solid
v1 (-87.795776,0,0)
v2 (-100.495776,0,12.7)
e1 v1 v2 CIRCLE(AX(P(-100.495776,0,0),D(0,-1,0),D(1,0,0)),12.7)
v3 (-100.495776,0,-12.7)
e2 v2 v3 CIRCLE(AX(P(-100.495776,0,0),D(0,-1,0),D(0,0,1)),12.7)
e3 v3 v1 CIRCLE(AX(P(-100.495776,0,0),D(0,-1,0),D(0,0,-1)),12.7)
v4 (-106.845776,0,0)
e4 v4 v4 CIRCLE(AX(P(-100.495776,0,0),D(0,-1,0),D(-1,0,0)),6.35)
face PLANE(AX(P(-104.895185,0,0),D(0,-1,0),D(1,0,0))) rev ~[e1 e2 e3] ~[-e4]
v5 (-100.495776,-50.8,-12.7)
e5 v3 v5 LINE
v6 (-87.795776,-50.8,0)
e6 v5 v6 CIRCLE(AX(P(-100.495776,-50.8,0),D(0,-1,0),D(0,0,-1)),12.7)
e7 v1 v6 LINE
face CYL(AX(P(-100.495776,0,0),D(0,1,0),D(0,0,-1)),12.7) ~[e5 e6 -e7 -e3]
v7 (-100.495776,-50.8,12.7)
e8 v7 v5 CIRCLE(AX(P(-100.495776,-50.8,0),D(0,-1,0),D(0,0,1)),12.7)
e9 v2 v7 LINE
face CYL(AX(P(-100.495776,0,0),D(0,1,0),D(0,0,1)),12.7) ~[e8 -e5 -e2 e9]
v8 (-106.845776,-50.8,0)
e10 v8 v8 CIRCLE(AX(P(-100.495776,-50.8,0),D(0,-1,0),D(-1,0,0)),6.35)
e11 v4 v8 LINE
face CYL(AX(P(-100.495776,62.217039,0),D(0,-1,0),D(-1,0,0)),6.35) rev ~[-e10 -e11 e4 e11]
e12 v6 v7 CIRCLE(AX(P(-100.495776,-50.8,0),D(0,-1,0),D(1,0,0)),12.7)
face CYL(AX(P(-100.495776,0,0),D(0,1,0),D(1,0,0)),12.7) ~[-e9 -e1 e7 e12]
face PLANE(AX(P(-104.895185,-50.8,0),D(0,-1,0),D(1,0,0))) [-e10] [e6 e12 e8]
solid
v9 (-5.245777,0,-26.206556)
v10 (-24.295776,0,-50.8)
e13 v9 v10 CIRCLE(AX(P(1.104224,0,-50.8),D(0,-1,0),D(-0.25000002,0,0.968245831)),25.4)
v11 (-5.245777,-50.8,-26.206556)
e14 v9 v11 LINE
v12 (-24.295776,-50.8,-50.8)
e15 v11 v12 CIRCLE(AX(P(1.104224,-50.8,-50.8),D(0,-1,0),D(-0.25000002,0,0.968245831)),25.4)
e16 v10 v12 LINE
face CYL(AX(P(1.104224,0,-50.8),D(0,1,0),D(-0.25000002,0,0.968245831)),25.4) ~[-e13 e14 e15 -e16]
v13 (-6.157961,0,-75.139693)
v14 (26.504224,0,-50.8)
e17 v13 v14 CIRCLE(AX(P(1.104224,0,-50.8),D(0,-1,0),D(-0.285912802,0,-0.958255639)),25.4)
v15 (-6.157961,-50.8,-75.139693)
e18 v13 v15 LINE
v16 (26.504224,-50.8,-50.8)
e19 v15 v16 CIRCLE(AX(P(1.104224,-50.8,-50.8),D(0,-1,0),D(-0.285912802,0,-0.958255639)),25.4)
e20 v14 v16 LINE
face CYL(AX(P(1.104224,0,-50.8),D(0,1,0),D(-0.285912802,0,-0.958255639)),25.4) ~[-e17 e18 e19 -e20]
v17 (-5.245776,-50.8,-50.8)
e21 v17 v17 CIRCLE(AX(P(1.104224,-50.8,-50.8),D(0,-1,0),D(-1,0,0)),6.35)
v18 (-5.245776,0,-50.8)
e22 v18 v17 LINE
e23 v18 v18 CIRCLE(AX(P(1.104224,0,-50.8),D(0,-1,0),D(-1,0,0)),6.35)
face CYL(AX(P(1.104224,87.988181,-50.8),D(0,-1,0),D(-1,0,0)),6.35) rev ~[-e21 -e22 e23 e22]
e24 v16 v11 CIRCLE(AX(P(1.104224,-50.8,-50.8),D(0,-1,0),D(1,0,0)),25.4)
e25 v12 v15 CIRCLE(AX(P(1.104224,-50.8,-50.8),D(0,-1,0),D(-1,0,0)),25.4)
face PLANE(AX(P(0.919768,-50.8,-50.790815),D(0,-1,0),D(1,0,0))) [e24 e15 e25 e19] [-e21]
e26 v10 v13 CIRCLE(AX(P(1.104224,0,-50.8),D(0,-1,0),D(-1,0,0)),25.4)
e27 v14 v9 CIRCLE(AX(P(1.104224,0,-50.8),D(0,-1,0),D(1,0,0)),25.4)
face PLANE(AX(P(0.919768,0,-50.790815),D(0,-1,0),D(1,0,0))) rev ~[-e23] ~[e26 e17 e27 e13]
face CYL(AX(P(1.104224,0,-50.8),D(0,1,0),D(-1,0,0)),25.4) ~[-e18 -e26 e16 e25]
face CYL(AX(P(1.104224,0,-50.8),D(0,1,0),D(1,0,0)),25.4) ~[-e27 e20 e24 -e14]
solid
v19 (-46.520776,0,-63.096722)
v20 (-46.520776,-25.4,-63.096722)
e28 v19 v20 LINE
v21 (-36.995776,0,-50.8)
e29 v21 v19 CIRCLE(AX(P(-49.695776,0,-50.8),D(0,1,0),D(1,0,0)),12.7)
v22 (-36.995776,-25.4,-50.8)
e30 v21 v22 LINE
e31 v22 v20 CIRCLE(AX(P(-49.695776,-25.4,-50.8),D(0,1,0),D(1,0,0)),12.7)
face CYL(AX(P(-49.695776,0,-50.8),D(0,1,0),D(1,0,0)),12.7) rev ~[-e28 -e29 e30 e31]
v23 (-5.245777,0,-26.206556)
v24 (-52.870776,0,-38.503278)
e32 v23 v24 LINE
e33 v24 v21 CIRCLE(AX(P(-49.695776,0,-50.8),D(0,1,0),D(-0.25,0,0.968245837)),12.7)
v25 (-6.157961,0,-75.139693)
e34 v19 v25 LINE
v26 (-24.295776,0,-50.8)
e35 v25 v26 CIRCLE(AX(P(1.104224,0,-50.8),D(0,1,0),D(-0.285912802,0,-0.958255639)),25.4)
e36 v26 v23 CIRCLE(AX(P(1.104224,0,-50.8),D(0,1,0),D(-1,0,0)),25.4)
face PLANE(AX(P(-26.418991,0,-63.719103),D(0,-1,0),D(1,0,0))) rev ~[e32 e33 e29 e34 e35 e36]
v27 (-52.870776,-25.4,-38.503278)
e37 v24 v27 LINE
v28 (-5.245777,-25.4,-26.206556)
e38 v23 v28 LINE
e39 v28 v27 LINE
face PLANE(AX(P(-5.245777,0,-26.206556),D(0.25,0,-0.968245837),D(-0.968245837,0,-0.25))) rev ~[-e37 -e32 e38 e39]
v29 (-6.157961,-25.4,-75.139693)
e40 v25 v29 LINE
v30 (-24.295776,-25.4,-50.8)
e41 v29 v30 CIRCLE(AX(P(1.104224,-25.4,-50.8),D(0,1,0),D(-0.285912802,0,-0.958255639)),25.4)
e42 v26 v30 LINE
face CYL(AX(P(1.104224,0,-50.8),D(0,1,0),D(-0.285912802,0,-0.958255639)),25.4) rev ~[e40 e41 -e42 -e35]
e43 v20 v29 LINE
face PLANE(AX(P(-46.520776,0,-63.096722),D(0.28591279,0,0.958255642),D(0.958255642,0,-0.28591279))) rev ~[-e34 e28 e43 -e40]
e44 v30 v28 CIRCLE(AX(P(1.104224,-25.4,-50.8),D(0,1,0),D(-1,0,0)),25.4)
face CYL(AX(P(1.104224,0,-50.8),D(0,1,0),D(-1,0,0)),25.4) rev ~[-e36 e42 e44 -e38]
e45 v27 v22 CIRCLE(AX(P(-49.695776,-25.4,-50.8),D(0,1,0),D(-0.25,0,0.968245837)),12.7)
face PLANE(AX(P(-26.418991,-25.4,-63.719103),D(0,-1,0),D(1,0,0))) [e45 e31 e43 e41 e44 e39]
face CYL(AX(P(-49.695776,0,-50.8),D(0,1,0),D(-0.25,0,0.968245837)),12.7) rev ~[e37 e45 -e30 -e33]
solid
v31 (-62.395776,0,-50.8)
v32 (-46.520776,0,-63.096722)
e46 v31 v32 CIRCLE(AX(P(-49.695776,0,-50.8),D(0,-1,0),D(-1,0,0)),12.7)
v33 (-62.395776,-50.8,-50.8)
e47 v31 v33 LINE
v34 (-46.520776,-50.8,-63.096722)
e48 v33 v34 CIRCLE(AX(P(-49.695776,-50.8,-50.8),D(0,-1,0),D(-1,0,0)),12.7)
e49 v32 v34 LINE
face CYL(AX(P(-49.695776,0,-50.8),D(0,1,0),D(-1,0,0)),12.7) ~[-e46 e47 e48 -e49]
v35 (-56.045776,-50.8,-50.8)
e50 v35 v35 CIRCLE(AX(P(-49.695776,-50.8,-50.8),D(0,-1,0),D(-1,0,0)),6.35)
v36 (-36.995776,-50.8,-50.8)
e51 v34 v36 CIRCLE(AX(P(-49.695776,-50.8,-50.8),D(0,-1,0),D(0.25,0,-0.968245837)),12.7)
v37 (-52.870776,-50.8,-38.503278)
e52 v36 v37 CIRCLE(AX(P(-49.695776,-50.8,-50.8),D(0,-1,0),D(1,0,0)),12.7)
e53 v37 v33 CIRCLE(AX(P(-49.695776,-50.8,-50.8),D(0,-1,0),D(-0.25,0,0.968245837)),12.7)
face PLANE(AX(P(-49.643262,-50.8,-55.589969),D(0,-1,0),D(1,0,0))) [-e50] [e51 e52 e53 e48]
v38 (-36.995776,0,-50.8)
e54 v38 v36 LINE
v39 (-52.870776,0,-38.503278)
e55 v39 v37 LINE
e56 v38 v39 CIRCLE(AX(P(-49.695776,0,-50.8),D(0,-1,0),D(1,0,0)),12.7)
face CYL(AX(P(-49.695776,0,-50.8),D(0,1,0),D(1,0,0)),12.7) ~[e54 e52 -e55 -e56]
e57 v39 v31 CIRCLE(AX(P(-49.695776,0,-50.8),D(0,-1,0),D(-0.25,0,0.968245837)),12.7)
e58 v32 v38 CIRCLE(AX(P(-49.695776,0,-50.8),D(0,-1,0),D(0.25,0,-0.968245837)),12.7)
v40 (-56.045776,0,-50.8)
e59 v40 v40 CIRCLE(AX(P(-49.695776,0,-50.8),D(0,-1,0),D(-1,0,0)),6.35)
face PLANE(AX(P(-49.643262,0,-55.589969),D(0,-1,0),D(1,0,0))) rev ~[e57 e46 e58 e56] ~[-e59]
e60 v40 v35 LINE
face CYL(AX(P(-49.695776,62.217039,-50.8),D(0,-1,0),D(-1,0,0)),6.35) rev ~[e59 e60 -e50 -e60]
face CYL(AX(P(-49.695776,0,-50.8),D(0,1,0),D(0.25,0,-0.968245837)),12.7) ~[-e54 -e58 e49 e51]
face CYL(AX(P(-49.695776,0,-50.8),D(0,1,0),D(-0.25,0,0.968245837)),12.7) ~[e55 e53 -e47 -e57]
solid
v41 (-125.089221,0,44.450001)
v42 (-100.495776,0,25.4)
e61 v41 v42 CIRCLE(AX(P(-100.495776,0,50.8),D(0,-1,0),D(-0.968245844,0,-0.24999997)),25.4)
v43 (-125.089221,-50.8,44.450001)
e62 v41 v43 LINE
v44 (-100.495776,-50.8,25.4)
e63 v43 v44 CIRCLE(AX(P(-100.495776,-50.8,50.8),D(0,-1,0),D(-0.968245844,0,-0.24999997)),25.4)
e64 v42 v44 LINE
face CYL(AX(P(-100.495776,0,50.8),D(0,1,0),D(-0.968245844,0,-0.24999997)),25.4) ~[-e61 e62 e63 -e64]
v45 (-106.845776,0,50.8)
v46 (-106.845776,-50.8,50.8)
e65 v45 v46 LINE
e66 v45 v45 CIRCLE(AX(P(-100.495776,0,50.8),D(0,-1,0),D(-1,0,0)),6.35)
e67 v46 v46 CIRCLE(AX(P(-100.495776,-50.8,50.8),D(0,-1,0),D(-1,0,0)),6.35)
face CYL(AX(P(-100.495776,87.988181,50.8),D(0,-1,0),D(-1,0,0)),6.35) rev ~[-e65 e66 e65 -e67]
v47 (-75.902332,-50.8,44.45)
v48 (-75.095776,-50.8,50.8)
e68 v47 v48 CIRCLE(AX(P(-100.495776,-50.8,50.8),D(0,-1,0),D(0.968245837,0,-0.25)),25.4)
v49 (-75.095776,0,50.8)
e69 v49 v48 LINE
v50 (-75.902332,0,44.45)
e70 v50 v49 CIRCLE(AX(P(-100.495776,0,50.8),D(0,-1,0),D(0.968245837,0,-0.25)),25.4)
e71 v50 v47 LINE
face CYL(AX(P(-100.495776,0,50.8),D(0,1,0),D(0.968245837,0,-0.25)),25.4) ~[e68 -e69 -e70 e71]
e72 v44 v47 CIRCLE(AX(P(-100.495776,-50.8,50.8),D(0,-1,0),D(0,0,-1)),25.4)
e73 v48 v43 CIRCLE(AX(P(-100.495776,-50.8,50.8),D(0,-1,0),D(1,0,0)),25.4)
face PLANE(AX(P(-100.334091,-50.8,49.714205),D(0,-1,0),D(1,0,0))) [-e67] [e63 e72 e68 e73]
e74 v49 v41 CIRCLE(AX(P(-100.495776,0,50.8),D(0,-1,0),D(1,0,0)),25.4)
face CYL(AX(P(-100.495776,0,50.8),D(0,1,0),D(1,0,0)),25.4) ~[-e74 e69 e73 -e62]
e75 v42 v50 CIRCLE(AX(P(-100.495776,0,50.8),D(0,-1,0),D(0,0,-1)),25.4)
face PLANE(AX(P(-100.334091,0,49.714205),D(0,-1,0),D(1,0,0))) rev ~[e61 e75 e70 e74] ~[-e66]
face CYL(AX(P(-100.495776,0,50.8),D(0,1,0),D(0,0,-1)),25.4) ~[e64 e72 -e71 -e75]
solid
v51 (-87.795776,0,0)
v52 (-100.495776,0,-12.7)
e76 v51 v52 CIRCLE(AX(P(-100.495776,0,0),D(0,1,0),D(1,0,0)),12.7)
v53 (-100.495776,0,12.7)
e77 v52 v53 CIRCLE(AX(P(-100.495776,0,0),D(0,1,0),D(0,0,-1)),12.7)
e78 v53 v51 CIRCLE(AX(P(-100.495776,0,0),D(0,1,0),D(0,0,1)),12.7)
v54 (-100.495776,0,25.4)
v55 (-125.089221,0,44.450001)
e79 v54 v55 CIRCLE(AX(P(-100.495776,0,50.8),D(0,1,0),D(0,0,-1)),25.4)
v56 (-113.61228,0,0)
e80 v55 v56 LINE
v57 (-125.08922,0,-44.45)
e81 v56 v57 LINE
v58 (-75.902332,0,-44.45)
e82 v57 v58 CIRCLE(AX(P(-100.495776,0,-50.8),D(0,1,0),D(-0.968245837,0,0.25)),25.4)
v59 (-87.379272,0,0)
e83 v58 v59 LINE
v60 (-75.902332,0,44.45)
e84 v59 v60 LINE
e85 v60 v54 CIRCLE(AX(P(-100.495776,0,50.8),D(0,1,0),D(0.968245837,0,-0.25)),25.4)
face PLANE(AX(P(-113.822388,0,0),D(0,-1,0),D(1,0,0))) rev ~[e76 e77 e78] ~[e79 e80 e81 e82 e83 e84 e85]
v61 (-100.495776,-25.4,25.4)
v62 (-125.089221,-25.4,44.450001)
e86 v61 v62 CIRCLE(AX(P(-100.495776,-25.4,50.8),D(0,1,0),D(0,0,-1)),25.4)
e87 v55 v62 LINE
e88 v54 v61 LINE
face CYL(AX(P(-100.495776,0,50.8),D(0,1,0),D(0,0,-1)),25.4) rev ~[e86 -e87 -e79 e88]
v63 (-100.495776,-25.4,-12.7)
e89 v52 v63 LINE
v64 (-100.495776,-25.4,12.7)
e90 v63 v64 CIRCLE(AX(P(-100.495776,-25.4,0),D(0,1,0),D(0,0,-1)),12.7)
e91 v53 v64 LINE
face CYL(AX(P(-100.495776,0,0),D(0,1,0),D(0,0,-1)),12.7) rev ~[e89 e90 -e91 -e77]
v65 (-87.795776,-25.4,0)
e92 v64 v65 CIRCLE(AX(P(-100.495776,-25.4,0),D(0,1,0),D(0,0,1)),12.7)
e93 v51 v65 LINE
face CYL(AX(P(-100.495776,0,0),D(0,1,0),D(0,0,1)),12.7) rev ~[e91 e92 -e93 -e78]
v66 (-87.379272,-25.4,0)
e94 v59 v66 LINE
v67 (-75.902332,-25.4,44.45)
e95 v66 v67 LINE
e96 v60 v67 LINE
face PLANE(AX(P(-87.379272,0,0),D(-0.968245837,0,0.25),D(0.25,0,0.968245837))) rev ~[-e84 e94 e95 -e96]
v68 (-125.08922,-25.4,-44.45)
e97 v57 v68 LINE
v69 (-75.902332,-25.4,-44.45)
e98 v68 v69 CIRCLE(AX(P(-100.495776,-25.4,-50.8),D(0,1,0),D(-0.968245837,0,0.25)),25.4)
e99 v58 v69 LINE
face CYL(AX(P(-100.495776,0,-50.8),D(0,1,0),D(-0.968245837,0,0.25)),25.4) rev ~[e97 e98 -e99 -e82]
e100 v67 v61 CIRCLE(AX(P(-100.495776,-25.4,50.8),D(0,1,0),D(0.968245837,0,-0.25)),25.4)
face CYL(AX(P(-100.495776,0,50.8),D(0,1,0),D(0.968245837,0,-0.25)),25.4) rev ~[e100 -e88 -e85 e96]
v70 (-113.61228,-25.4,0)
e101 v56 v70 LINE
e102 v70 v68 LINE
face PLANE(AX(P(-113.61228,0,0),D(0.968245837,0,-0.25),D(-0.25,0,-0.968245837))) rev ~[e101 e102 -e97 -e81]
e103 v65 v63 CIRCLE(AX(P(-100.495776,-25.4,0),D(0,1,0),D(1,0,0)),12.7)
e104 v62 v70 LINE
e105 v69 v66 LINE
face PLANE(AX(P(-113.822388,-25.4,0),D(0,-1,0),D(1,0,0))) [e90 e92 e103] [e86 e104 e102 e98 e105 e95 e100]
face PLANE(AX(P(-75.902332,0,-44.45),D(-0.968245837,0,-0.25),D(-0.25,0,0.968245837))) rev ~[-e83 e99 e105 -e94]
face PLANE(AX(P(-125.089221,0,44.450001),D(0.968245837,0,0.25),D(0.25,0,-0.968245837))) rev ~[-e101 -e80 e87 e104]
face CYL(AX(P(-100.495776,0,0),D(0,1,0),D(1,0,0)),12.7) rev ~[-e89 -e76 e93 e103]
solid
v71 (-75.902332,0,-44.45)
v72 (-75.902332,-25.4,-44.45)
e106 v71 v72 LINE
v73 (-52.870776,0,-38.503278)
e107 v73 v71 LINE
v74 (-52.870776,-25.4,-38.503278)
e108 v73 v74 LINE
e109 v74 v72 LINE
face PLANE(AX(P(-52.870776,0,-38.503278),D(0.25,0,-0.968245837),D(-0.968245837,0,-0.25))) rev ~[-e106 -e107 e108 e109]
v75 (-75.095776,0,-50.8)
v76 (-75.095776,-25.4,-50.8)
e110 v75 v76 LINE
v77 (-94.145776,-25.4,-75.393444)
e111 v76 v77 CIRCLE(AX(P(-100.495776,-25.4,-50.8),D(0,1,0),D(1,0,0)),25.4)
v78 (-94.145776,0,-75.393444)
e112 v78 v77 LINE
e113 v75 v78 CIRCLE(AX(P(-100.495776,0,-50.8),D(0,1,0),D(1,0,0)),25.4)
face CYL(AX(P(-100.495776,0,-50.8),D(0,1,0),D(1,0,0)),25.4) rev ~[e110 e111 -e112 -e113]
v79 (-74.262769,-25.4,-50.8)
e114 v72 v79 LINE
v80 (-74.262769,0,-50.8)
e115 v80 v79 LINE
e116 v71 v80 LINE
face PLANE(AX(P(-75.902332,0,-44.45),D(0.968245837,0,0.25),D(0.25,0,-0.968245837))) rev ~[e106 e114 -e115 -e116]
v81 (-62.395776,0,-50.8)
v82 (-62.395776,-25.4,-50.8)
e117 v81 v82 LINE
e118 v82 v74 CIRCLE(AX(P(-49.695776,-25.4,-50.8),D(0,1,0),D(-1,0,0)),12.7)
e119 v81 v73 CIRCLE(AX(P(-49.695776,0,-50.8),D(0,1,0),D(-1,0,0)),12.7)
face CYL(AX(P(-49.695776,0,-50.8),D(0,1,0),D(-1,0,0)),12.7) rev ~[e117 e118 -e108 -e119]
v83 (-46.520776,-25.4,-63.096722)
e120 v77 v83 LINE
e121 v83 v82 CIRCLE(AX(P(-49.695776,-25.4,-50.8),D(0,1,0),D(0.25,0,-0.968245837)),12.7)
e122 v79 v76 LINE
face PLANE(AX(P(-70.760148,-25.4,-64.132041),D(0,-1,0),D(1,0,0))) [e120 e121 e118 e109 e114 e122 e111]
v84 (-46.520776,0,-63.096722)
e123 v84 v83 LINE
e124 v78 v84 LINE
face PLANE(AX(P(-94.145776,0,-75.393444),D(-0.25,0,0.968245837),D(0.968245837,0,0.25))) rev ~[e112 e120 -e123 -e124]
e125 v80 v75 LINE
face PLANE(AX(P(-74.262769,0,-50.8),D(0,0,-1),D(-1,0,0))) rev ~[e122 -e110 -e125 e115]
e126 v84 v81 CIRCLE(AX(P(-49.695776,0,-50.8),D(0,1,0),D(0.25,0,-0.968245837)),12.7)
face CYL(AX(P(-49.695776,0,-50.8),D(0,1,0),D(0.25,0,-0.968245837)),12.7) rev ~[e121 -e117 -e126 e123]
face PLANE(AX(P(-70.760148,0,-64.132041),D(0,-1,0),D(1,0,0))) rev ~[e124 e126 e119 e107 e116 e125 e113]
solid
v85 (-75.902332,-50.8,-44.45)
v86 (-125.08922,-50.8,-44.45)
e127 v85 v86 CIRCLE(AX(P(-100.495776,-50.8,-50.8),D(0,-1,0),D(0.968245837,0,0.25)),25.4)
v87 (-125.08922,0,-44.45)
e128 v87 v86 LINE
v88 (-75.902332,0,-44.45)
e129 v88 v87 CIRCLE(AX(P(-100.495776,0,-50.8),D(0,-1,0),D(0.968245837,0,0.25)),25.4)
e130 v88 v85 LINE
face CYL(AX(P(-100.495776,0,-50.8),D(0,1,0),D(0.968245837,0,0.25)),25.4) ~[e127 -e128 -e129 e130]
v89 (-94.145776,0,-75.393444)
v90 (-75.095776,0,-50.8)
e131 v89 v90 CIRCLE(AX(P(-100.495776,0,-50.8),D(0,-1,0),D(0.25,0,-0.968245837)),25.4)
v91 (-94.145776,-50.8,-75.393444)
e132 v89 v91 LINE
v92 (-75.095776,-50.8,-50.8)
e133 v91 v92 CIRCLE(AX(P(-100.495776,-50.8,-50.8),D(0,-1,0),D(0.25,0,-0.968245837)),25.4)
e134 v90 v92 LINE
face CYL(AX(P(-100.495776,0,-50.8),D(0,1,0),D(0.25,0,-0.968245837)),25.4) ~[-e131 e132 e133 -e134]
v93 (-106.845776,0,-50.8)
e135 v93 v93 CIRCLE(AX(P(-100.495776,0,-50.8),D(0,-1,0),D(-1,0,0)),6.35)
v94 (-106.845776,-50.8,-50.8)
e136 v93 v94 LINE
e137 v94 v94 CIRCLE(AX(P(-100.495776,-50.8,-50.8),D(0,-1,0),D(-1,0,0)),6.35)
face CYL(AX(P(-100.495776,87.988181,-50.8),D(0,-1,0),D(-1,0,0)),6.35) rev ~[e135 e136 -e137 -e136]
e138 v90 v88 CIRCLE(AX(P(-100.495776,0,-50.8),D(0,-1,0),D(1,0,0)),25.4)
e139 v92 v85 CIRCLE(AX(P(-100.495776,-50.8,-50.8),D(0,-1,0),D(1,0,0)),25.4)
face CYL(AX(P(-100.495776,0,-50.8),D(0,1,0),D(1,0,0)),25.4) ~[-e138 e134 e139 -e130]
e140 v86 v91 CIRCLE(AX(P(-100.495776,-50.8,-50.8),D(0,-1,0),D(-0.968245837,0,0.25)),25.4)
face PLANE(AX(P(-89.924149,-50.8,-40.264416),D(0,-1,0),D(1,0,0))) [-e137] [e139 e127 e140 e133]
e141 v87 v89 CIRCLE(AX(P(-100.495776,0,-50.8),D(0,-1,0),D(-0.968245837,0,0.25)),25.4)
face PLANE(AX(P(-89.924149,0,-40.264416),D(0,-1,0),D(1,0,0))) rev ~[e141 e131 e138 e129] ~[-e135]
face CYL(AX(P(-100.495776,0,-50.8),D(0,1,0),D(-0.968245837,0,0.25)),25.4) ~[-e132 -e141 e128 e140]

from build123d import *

# Parameters (mm, degrees)
F1_DEPTH = 50.8
F2_DEPTH = 25.4
F3_D     = 12.7
F3_2_D   = 12.7
F3_3_D   = 12.7
F3_4_D   = 12.7
F3_5_D   = 12.7


with BuildPart() as f1:
    # F0 (on Front) → F1 (new body)
    with BuildSketch(Plane.XZ):
        with BuildLine():
            ThreePointArc((-100.4957760886, 25.4), (-84.9415162219, 30.7195368579), (-75.9023318401, 44.45))
            ThreePointArc((-75.9023318401, 44.45), (-75.2982218034, 47.5994909709), (-75.0957760886, 50.8))
            ThreePointArc((-75.0957760886, 50.8), (-103.6962847293, 75.9975543345), (-125.0892205327, 44.4500007579))
            ThreePointArc((-125.0892205327, 44.4500007579), (-116.0500362647, 30.7195370976), (-100.4957760886, 25.4))
        make_face()
    extrude(amount=F1_DEPTH)

    # F3 (through all)
    with Locations(Plane(origin=(0, 0, 0), x_dir=(1, 0, 0), z_dir=(0, 1, 0))):
        with Locations((-100.4957760886, -50.8), (-100.4957760886, 50.8), (-100.4957760886, 0), (-49.6957760886, 50.8), (1.1042239114, 50.8)):
            Hole(F3_D / 2)


with BuildPart() as f1b:
    # F0 (on Front) → F1, piece 2 (new body)
    with BuildSketch(Plane.XZ):
        with BuildLine():
            ThreePointArc((-100.4957760886, 12.7), (-113.1957760886, 0), (-100.4957760886, -12.7))
            Line((-100.4957760886, -12.7), (-100.4957760886, 0))
            Line((-100.4957760886, 0), (-100.4957760886, 12.7))
        make_face()
        with BuildLine():
            Line((-100.4957760886, 0), (-100.4957760886, -12.7))
            ThreePointArc((-100.4957760886, -12.7), (-91.5155199675, -8.9802561211), (-87.7957760886, 0))
            ThreePointArc((-87.7957760886, 0), (-91.5155199675, 8.9802561211), (-100.4957760886, 12.7))
            Line((-100.4957760886, 12.7), (-100.4957760886, 0))
        make_face()
    extrude(amount=F1_DEPTH)

    # F3#2 (through all)
    with Locations(Plane(origin=(0, 0, 0), x_dir=(1, 0, 0), z_dir=(0, 1, 0))):
        with Locations((-100.4957760886, -50.8), (-100.4957760886, 50.8), (-100.4957760886, 0), (-49.6957760886, 50.8), (1.1042239114, 50.8)):
            Hole(F3_2_D / 2)


with BuildPart() as f1c:
    # F0 (on Front) → F1, piece 3 (new body)
    with BuildSketch(Plane.XZ):
        with BuildLine():
            Line((-100.4957760886, -25.4), (-100.4957760886, -50.8))
            Line((-100.4957760886, -50.8), (-75.0957760886, -50.8))
            ThreePointArc((-75.0957760886, -50.8), (-75.2982218034, -47.5994909709), (-75.9023318401, -44.45))
            ThreePointArc((-75.9023318401, -44.45), (-84.9415162219, -30.7195368579), (-100.4957760886, -25.4))
        make_face()
        with BuildLine():
            Line((-75.0957760886, -50.8), (-100.4957760886, -50.8))
            Line((-100.4957760886, -50.8), (-100.4957760886, -25.4))
            ThreePointArc((-100.4957760886, -25.4), (-116.0500359552, -30.7195368579), (-125.089220337, -44.45))
            ThreePointArc((-125.089220337, -44.45), (-118.4562883307, -68.7605122421), (-94.1457760886, -75.3934442484))
            ThreePointArc((-94.1457760886, -75.3934442484), (-80.4153129465, -66.3542598667), (-75.0957760886, -50.8))
        make_face()
    extrude(amount=F1_DEPTH)

    # F3#3 (through all)
    with Locations(Plane(origin=(0, 0, 0), x_dir=(1, 0, 0), z_dir=(0, 1, 0))):
        with Locations((-100.4957760886, -50.8), (-100.4957760886, 50.8), (-100.4957760886, 0), (-49.6957760886, 50.8), (1.1042239114, 50.8)):
            Hole(F3_3_D / 2)


with BuildPart() as f1d:
    # F0 (on Front) → F1, piece 4 (new body)
    with BuildSketch(Plane.XZ):
        with BuildLine():
            Line((-49.6957760886, -50.8), (-62.3957760886, -50.8))
            ThreePointArc((-62.3957760886, -50.8), (-57.4729060219, -60.840231571), (-46.5207760886, -63.0967221242))
            ThreePointArc((-46.5207760886, -63.0967221242), (-39.6555445175, -58.5771299333), (-36.9957760886, -50.8))
            Line((-36.9957760886, -50.8), (-49.6957760886, -50.8))
        make_face()
        with BuildLine():
            ThreePointArc((-52.8707760886, -38.5032778758), (-59.7360076596, -43.0228700667), (-62.3957760886, -50.8))
            Line((-62.3957760886, -50.8), (-49.6957760886, -50.8))
            Line((-49.6957760886, -50.8), (-36.9957760886, -50.8))
            ThreePointArc((-36.9957760886, -50.8), (-41.9186461552, -40.759768429), (-52.8707760886, -38.5032778758))
        make_face()
    extrude(amount=F1_DEPTH)

    # F3#4 (through all)
    with Locations(Plane(origin=(0, 0, 0), x_dir=(1, 0, 0), z_dir=(0, 1, 0))):
        with Locations((-100.4957760886, -50.8), (-100.4957760886, 50.8), (-100.4957760886, 0), (-49.6957760886, 50.8), (1.1042239114, 50.8)):
            Hole(F3_4_D / 2)


with BuildPart() as f1e:
    # F0 (on Front) → F1, piece 5 (new body)
    with BuildSketch(Plane.XZ):
        with BuildLine():
            ThreePointArc((26.5042239114, -50.8), (16.6584835721, -30.7195366984), (-5.2457765931, -26.2065558819))
            ThreePointArc((-5.2457765931, -26.2065558819), (-18.9762393902, -35.2457403393), (-24.2957760886, -50.8))
            ThreePointArc((-24.2957760886, -50.8), (-19.2626548825, -65.9772938363), (-6.1579612702, -75.1396932271))
            ThreePointArc((-6.1579612702, -75.1396932271), (16.2815177477, -71.1668787939), (26.5042239114, -50.8))
        make_face()
    extrude(amount=F1_DEPTH)

    # F3#5 (through all)
    with Locations(Plane(origin=(0, 0, 0), x_dir=(1, 0, 0), z_dir=(0, 1, 0))):
        with Locations((-100.4957760886, -50.8), (-100.4957760886, 50.8), (-100.4957760886, 0), (-49.6957760886, 50.8), (1.1042239114, 50.8)):
            Hole(F3_5_D / 2)


with BuildPart() as f2:
    # F0 (on Front) → F2 (new body)
    with BuildSketch(Plane.XZ):
        with BuildLine():
            ThreePointArc((-125.089220337, -44.45), (-116.0500359552, -30.7195368579), (-100.4957760886, -25.4))
            Line((-100.4957760886, -25.4), (-100.4957760886, -12.7))
            ThreePointArc((-100.4957760886, -12.7), (-113.1957760886, 0), (-100.4957760886, 12.7))
            Line((-100.4957760886, 12.7), (-100.4957760886, 25.4))
            ThreePointArc((-100.4957760886, 25.4), (-116.0500362647, 30.7195370976), (-125.0892205327, 44.4500007579))
            Line((-125.0892205327, 44.4500007579), (-113.6122796877, 0))
            Line((-113.6122796877, 0), (-125.089220337, -44.45))
        make_face()
        with BuildLine():
            Line((-100.4957760886, -12.7), (-100.4957760886, -25.4))
            ThreePointArc((-100.4957760886, -25.4), (-84.9415162219, -30.7195368579), (-75.9023318401, -44.45))
            Line((-75.9023318401, -44.45), (-87.3792724894, 0))
            Line((-87.3792724894, 0), (-75.9023318401, 44.45))
            ThreePointArc((-75.9023318401, 44.45), (-84.9415162219, 30.7195368579), (-100.4957760886, 25.4))
            Line((-100.4957760886, 25.4), (-100.4957760886, 12.7))
            ThreePointArc((-100.4957760886, 12.7), (-91.5155199675, 8.9802561211), (-87.7957760886, 0))
            ThreePointArc((-87.7957760886, 0), (-91.5155199675, -8.9802561211), (-100.4957760886, -12.7))
        make_face()
    extrude(amount=F2_DEPTH)


with BuildPart() as f2b:
    # F0 (on Front) → F2, piece 2 (new body)
    with BuildSketch(Plane.XZ):
        with BuildLine():
            Line((-74.2627688902, -50.8), (-75.0957760886, -50.8))
            ThreePointArc((-75.0957760886, -50.8), (-80.4153129465, -66.3542598667), (-94.1457760886, -75.3934442484))
            Line((-94.1457760886, -75.3934442484), (-46.5207760886, -63.0967221242))
            ThreePointArc((-46.5207760886, -63.0967221242), (-57.4729060219, -60.840231571), (-62.3957760886, -50.8))
            Line((-62.3957760886, -50.8), (-74.2627688902, -50.8))
        make_face()
        with BuildLine():
            Line((-75.9023318401, -44.45), (-74.2627688902, -50.8))
            Line((-74.2627688902, -50.8), (-62.3957760886, -50.8))
            ThreePointArc((-62.3957760886, -50.8), (-59.7360076596, -43.0228700667), (-52.8707760886, -38.5032778758))
            Line((-52.8707760886, -38.5032778758), (-75.9023318401, -44.45))
        make_face()
    extrude(amount=F2_DEPTH)


with BuildPart() as f2c:
    # F0 (on Front) → F2, piece 3 (new body)
    with BuildSketch(Plane.XZ):
        with BuildLine():
            ThreePointArc((-36.9957760886, -50.8), (-39.6555445175, -58.5771299333), (-46.5207760886, -63.0967221242))
            Line((-46.5207760886, -63.0967221242), (-6.1579612702, -75.1396932271))
            ThreePointArc((-6.1579612702, -75.1396932271), (-19.2626548825, -65.9772938363), (-24.2957760886, -50.8))
            Line((-24.2957760886, -50.8), (-36.9957760886, -50.8))
        make_face()
        with BuildLine():
            Line((-5.2457765931, -26.2065558819), (-52.8707760886, -38.5032778758))
            ThreePointArc((-52.8707760886, -38.5032778758), (-41.9186461552, -40.759768429), (-36.9957760886, -50.8))
            Line((-36.9957760886, -50.8), (-24.2957760886, -50.8))
            ThreePointArc((-24.2957760886, -50.8), (-18.9762393902, -35.2457403393), (-5.2457765931, -26.2065558819))
        make_face()
    extrude(amount=F2_DEPTH)


solid = Compound([f1.part, f1b.part, f1c.part, f1d.part, f1e.part, f2.part, f2b.part, f2c.part])
